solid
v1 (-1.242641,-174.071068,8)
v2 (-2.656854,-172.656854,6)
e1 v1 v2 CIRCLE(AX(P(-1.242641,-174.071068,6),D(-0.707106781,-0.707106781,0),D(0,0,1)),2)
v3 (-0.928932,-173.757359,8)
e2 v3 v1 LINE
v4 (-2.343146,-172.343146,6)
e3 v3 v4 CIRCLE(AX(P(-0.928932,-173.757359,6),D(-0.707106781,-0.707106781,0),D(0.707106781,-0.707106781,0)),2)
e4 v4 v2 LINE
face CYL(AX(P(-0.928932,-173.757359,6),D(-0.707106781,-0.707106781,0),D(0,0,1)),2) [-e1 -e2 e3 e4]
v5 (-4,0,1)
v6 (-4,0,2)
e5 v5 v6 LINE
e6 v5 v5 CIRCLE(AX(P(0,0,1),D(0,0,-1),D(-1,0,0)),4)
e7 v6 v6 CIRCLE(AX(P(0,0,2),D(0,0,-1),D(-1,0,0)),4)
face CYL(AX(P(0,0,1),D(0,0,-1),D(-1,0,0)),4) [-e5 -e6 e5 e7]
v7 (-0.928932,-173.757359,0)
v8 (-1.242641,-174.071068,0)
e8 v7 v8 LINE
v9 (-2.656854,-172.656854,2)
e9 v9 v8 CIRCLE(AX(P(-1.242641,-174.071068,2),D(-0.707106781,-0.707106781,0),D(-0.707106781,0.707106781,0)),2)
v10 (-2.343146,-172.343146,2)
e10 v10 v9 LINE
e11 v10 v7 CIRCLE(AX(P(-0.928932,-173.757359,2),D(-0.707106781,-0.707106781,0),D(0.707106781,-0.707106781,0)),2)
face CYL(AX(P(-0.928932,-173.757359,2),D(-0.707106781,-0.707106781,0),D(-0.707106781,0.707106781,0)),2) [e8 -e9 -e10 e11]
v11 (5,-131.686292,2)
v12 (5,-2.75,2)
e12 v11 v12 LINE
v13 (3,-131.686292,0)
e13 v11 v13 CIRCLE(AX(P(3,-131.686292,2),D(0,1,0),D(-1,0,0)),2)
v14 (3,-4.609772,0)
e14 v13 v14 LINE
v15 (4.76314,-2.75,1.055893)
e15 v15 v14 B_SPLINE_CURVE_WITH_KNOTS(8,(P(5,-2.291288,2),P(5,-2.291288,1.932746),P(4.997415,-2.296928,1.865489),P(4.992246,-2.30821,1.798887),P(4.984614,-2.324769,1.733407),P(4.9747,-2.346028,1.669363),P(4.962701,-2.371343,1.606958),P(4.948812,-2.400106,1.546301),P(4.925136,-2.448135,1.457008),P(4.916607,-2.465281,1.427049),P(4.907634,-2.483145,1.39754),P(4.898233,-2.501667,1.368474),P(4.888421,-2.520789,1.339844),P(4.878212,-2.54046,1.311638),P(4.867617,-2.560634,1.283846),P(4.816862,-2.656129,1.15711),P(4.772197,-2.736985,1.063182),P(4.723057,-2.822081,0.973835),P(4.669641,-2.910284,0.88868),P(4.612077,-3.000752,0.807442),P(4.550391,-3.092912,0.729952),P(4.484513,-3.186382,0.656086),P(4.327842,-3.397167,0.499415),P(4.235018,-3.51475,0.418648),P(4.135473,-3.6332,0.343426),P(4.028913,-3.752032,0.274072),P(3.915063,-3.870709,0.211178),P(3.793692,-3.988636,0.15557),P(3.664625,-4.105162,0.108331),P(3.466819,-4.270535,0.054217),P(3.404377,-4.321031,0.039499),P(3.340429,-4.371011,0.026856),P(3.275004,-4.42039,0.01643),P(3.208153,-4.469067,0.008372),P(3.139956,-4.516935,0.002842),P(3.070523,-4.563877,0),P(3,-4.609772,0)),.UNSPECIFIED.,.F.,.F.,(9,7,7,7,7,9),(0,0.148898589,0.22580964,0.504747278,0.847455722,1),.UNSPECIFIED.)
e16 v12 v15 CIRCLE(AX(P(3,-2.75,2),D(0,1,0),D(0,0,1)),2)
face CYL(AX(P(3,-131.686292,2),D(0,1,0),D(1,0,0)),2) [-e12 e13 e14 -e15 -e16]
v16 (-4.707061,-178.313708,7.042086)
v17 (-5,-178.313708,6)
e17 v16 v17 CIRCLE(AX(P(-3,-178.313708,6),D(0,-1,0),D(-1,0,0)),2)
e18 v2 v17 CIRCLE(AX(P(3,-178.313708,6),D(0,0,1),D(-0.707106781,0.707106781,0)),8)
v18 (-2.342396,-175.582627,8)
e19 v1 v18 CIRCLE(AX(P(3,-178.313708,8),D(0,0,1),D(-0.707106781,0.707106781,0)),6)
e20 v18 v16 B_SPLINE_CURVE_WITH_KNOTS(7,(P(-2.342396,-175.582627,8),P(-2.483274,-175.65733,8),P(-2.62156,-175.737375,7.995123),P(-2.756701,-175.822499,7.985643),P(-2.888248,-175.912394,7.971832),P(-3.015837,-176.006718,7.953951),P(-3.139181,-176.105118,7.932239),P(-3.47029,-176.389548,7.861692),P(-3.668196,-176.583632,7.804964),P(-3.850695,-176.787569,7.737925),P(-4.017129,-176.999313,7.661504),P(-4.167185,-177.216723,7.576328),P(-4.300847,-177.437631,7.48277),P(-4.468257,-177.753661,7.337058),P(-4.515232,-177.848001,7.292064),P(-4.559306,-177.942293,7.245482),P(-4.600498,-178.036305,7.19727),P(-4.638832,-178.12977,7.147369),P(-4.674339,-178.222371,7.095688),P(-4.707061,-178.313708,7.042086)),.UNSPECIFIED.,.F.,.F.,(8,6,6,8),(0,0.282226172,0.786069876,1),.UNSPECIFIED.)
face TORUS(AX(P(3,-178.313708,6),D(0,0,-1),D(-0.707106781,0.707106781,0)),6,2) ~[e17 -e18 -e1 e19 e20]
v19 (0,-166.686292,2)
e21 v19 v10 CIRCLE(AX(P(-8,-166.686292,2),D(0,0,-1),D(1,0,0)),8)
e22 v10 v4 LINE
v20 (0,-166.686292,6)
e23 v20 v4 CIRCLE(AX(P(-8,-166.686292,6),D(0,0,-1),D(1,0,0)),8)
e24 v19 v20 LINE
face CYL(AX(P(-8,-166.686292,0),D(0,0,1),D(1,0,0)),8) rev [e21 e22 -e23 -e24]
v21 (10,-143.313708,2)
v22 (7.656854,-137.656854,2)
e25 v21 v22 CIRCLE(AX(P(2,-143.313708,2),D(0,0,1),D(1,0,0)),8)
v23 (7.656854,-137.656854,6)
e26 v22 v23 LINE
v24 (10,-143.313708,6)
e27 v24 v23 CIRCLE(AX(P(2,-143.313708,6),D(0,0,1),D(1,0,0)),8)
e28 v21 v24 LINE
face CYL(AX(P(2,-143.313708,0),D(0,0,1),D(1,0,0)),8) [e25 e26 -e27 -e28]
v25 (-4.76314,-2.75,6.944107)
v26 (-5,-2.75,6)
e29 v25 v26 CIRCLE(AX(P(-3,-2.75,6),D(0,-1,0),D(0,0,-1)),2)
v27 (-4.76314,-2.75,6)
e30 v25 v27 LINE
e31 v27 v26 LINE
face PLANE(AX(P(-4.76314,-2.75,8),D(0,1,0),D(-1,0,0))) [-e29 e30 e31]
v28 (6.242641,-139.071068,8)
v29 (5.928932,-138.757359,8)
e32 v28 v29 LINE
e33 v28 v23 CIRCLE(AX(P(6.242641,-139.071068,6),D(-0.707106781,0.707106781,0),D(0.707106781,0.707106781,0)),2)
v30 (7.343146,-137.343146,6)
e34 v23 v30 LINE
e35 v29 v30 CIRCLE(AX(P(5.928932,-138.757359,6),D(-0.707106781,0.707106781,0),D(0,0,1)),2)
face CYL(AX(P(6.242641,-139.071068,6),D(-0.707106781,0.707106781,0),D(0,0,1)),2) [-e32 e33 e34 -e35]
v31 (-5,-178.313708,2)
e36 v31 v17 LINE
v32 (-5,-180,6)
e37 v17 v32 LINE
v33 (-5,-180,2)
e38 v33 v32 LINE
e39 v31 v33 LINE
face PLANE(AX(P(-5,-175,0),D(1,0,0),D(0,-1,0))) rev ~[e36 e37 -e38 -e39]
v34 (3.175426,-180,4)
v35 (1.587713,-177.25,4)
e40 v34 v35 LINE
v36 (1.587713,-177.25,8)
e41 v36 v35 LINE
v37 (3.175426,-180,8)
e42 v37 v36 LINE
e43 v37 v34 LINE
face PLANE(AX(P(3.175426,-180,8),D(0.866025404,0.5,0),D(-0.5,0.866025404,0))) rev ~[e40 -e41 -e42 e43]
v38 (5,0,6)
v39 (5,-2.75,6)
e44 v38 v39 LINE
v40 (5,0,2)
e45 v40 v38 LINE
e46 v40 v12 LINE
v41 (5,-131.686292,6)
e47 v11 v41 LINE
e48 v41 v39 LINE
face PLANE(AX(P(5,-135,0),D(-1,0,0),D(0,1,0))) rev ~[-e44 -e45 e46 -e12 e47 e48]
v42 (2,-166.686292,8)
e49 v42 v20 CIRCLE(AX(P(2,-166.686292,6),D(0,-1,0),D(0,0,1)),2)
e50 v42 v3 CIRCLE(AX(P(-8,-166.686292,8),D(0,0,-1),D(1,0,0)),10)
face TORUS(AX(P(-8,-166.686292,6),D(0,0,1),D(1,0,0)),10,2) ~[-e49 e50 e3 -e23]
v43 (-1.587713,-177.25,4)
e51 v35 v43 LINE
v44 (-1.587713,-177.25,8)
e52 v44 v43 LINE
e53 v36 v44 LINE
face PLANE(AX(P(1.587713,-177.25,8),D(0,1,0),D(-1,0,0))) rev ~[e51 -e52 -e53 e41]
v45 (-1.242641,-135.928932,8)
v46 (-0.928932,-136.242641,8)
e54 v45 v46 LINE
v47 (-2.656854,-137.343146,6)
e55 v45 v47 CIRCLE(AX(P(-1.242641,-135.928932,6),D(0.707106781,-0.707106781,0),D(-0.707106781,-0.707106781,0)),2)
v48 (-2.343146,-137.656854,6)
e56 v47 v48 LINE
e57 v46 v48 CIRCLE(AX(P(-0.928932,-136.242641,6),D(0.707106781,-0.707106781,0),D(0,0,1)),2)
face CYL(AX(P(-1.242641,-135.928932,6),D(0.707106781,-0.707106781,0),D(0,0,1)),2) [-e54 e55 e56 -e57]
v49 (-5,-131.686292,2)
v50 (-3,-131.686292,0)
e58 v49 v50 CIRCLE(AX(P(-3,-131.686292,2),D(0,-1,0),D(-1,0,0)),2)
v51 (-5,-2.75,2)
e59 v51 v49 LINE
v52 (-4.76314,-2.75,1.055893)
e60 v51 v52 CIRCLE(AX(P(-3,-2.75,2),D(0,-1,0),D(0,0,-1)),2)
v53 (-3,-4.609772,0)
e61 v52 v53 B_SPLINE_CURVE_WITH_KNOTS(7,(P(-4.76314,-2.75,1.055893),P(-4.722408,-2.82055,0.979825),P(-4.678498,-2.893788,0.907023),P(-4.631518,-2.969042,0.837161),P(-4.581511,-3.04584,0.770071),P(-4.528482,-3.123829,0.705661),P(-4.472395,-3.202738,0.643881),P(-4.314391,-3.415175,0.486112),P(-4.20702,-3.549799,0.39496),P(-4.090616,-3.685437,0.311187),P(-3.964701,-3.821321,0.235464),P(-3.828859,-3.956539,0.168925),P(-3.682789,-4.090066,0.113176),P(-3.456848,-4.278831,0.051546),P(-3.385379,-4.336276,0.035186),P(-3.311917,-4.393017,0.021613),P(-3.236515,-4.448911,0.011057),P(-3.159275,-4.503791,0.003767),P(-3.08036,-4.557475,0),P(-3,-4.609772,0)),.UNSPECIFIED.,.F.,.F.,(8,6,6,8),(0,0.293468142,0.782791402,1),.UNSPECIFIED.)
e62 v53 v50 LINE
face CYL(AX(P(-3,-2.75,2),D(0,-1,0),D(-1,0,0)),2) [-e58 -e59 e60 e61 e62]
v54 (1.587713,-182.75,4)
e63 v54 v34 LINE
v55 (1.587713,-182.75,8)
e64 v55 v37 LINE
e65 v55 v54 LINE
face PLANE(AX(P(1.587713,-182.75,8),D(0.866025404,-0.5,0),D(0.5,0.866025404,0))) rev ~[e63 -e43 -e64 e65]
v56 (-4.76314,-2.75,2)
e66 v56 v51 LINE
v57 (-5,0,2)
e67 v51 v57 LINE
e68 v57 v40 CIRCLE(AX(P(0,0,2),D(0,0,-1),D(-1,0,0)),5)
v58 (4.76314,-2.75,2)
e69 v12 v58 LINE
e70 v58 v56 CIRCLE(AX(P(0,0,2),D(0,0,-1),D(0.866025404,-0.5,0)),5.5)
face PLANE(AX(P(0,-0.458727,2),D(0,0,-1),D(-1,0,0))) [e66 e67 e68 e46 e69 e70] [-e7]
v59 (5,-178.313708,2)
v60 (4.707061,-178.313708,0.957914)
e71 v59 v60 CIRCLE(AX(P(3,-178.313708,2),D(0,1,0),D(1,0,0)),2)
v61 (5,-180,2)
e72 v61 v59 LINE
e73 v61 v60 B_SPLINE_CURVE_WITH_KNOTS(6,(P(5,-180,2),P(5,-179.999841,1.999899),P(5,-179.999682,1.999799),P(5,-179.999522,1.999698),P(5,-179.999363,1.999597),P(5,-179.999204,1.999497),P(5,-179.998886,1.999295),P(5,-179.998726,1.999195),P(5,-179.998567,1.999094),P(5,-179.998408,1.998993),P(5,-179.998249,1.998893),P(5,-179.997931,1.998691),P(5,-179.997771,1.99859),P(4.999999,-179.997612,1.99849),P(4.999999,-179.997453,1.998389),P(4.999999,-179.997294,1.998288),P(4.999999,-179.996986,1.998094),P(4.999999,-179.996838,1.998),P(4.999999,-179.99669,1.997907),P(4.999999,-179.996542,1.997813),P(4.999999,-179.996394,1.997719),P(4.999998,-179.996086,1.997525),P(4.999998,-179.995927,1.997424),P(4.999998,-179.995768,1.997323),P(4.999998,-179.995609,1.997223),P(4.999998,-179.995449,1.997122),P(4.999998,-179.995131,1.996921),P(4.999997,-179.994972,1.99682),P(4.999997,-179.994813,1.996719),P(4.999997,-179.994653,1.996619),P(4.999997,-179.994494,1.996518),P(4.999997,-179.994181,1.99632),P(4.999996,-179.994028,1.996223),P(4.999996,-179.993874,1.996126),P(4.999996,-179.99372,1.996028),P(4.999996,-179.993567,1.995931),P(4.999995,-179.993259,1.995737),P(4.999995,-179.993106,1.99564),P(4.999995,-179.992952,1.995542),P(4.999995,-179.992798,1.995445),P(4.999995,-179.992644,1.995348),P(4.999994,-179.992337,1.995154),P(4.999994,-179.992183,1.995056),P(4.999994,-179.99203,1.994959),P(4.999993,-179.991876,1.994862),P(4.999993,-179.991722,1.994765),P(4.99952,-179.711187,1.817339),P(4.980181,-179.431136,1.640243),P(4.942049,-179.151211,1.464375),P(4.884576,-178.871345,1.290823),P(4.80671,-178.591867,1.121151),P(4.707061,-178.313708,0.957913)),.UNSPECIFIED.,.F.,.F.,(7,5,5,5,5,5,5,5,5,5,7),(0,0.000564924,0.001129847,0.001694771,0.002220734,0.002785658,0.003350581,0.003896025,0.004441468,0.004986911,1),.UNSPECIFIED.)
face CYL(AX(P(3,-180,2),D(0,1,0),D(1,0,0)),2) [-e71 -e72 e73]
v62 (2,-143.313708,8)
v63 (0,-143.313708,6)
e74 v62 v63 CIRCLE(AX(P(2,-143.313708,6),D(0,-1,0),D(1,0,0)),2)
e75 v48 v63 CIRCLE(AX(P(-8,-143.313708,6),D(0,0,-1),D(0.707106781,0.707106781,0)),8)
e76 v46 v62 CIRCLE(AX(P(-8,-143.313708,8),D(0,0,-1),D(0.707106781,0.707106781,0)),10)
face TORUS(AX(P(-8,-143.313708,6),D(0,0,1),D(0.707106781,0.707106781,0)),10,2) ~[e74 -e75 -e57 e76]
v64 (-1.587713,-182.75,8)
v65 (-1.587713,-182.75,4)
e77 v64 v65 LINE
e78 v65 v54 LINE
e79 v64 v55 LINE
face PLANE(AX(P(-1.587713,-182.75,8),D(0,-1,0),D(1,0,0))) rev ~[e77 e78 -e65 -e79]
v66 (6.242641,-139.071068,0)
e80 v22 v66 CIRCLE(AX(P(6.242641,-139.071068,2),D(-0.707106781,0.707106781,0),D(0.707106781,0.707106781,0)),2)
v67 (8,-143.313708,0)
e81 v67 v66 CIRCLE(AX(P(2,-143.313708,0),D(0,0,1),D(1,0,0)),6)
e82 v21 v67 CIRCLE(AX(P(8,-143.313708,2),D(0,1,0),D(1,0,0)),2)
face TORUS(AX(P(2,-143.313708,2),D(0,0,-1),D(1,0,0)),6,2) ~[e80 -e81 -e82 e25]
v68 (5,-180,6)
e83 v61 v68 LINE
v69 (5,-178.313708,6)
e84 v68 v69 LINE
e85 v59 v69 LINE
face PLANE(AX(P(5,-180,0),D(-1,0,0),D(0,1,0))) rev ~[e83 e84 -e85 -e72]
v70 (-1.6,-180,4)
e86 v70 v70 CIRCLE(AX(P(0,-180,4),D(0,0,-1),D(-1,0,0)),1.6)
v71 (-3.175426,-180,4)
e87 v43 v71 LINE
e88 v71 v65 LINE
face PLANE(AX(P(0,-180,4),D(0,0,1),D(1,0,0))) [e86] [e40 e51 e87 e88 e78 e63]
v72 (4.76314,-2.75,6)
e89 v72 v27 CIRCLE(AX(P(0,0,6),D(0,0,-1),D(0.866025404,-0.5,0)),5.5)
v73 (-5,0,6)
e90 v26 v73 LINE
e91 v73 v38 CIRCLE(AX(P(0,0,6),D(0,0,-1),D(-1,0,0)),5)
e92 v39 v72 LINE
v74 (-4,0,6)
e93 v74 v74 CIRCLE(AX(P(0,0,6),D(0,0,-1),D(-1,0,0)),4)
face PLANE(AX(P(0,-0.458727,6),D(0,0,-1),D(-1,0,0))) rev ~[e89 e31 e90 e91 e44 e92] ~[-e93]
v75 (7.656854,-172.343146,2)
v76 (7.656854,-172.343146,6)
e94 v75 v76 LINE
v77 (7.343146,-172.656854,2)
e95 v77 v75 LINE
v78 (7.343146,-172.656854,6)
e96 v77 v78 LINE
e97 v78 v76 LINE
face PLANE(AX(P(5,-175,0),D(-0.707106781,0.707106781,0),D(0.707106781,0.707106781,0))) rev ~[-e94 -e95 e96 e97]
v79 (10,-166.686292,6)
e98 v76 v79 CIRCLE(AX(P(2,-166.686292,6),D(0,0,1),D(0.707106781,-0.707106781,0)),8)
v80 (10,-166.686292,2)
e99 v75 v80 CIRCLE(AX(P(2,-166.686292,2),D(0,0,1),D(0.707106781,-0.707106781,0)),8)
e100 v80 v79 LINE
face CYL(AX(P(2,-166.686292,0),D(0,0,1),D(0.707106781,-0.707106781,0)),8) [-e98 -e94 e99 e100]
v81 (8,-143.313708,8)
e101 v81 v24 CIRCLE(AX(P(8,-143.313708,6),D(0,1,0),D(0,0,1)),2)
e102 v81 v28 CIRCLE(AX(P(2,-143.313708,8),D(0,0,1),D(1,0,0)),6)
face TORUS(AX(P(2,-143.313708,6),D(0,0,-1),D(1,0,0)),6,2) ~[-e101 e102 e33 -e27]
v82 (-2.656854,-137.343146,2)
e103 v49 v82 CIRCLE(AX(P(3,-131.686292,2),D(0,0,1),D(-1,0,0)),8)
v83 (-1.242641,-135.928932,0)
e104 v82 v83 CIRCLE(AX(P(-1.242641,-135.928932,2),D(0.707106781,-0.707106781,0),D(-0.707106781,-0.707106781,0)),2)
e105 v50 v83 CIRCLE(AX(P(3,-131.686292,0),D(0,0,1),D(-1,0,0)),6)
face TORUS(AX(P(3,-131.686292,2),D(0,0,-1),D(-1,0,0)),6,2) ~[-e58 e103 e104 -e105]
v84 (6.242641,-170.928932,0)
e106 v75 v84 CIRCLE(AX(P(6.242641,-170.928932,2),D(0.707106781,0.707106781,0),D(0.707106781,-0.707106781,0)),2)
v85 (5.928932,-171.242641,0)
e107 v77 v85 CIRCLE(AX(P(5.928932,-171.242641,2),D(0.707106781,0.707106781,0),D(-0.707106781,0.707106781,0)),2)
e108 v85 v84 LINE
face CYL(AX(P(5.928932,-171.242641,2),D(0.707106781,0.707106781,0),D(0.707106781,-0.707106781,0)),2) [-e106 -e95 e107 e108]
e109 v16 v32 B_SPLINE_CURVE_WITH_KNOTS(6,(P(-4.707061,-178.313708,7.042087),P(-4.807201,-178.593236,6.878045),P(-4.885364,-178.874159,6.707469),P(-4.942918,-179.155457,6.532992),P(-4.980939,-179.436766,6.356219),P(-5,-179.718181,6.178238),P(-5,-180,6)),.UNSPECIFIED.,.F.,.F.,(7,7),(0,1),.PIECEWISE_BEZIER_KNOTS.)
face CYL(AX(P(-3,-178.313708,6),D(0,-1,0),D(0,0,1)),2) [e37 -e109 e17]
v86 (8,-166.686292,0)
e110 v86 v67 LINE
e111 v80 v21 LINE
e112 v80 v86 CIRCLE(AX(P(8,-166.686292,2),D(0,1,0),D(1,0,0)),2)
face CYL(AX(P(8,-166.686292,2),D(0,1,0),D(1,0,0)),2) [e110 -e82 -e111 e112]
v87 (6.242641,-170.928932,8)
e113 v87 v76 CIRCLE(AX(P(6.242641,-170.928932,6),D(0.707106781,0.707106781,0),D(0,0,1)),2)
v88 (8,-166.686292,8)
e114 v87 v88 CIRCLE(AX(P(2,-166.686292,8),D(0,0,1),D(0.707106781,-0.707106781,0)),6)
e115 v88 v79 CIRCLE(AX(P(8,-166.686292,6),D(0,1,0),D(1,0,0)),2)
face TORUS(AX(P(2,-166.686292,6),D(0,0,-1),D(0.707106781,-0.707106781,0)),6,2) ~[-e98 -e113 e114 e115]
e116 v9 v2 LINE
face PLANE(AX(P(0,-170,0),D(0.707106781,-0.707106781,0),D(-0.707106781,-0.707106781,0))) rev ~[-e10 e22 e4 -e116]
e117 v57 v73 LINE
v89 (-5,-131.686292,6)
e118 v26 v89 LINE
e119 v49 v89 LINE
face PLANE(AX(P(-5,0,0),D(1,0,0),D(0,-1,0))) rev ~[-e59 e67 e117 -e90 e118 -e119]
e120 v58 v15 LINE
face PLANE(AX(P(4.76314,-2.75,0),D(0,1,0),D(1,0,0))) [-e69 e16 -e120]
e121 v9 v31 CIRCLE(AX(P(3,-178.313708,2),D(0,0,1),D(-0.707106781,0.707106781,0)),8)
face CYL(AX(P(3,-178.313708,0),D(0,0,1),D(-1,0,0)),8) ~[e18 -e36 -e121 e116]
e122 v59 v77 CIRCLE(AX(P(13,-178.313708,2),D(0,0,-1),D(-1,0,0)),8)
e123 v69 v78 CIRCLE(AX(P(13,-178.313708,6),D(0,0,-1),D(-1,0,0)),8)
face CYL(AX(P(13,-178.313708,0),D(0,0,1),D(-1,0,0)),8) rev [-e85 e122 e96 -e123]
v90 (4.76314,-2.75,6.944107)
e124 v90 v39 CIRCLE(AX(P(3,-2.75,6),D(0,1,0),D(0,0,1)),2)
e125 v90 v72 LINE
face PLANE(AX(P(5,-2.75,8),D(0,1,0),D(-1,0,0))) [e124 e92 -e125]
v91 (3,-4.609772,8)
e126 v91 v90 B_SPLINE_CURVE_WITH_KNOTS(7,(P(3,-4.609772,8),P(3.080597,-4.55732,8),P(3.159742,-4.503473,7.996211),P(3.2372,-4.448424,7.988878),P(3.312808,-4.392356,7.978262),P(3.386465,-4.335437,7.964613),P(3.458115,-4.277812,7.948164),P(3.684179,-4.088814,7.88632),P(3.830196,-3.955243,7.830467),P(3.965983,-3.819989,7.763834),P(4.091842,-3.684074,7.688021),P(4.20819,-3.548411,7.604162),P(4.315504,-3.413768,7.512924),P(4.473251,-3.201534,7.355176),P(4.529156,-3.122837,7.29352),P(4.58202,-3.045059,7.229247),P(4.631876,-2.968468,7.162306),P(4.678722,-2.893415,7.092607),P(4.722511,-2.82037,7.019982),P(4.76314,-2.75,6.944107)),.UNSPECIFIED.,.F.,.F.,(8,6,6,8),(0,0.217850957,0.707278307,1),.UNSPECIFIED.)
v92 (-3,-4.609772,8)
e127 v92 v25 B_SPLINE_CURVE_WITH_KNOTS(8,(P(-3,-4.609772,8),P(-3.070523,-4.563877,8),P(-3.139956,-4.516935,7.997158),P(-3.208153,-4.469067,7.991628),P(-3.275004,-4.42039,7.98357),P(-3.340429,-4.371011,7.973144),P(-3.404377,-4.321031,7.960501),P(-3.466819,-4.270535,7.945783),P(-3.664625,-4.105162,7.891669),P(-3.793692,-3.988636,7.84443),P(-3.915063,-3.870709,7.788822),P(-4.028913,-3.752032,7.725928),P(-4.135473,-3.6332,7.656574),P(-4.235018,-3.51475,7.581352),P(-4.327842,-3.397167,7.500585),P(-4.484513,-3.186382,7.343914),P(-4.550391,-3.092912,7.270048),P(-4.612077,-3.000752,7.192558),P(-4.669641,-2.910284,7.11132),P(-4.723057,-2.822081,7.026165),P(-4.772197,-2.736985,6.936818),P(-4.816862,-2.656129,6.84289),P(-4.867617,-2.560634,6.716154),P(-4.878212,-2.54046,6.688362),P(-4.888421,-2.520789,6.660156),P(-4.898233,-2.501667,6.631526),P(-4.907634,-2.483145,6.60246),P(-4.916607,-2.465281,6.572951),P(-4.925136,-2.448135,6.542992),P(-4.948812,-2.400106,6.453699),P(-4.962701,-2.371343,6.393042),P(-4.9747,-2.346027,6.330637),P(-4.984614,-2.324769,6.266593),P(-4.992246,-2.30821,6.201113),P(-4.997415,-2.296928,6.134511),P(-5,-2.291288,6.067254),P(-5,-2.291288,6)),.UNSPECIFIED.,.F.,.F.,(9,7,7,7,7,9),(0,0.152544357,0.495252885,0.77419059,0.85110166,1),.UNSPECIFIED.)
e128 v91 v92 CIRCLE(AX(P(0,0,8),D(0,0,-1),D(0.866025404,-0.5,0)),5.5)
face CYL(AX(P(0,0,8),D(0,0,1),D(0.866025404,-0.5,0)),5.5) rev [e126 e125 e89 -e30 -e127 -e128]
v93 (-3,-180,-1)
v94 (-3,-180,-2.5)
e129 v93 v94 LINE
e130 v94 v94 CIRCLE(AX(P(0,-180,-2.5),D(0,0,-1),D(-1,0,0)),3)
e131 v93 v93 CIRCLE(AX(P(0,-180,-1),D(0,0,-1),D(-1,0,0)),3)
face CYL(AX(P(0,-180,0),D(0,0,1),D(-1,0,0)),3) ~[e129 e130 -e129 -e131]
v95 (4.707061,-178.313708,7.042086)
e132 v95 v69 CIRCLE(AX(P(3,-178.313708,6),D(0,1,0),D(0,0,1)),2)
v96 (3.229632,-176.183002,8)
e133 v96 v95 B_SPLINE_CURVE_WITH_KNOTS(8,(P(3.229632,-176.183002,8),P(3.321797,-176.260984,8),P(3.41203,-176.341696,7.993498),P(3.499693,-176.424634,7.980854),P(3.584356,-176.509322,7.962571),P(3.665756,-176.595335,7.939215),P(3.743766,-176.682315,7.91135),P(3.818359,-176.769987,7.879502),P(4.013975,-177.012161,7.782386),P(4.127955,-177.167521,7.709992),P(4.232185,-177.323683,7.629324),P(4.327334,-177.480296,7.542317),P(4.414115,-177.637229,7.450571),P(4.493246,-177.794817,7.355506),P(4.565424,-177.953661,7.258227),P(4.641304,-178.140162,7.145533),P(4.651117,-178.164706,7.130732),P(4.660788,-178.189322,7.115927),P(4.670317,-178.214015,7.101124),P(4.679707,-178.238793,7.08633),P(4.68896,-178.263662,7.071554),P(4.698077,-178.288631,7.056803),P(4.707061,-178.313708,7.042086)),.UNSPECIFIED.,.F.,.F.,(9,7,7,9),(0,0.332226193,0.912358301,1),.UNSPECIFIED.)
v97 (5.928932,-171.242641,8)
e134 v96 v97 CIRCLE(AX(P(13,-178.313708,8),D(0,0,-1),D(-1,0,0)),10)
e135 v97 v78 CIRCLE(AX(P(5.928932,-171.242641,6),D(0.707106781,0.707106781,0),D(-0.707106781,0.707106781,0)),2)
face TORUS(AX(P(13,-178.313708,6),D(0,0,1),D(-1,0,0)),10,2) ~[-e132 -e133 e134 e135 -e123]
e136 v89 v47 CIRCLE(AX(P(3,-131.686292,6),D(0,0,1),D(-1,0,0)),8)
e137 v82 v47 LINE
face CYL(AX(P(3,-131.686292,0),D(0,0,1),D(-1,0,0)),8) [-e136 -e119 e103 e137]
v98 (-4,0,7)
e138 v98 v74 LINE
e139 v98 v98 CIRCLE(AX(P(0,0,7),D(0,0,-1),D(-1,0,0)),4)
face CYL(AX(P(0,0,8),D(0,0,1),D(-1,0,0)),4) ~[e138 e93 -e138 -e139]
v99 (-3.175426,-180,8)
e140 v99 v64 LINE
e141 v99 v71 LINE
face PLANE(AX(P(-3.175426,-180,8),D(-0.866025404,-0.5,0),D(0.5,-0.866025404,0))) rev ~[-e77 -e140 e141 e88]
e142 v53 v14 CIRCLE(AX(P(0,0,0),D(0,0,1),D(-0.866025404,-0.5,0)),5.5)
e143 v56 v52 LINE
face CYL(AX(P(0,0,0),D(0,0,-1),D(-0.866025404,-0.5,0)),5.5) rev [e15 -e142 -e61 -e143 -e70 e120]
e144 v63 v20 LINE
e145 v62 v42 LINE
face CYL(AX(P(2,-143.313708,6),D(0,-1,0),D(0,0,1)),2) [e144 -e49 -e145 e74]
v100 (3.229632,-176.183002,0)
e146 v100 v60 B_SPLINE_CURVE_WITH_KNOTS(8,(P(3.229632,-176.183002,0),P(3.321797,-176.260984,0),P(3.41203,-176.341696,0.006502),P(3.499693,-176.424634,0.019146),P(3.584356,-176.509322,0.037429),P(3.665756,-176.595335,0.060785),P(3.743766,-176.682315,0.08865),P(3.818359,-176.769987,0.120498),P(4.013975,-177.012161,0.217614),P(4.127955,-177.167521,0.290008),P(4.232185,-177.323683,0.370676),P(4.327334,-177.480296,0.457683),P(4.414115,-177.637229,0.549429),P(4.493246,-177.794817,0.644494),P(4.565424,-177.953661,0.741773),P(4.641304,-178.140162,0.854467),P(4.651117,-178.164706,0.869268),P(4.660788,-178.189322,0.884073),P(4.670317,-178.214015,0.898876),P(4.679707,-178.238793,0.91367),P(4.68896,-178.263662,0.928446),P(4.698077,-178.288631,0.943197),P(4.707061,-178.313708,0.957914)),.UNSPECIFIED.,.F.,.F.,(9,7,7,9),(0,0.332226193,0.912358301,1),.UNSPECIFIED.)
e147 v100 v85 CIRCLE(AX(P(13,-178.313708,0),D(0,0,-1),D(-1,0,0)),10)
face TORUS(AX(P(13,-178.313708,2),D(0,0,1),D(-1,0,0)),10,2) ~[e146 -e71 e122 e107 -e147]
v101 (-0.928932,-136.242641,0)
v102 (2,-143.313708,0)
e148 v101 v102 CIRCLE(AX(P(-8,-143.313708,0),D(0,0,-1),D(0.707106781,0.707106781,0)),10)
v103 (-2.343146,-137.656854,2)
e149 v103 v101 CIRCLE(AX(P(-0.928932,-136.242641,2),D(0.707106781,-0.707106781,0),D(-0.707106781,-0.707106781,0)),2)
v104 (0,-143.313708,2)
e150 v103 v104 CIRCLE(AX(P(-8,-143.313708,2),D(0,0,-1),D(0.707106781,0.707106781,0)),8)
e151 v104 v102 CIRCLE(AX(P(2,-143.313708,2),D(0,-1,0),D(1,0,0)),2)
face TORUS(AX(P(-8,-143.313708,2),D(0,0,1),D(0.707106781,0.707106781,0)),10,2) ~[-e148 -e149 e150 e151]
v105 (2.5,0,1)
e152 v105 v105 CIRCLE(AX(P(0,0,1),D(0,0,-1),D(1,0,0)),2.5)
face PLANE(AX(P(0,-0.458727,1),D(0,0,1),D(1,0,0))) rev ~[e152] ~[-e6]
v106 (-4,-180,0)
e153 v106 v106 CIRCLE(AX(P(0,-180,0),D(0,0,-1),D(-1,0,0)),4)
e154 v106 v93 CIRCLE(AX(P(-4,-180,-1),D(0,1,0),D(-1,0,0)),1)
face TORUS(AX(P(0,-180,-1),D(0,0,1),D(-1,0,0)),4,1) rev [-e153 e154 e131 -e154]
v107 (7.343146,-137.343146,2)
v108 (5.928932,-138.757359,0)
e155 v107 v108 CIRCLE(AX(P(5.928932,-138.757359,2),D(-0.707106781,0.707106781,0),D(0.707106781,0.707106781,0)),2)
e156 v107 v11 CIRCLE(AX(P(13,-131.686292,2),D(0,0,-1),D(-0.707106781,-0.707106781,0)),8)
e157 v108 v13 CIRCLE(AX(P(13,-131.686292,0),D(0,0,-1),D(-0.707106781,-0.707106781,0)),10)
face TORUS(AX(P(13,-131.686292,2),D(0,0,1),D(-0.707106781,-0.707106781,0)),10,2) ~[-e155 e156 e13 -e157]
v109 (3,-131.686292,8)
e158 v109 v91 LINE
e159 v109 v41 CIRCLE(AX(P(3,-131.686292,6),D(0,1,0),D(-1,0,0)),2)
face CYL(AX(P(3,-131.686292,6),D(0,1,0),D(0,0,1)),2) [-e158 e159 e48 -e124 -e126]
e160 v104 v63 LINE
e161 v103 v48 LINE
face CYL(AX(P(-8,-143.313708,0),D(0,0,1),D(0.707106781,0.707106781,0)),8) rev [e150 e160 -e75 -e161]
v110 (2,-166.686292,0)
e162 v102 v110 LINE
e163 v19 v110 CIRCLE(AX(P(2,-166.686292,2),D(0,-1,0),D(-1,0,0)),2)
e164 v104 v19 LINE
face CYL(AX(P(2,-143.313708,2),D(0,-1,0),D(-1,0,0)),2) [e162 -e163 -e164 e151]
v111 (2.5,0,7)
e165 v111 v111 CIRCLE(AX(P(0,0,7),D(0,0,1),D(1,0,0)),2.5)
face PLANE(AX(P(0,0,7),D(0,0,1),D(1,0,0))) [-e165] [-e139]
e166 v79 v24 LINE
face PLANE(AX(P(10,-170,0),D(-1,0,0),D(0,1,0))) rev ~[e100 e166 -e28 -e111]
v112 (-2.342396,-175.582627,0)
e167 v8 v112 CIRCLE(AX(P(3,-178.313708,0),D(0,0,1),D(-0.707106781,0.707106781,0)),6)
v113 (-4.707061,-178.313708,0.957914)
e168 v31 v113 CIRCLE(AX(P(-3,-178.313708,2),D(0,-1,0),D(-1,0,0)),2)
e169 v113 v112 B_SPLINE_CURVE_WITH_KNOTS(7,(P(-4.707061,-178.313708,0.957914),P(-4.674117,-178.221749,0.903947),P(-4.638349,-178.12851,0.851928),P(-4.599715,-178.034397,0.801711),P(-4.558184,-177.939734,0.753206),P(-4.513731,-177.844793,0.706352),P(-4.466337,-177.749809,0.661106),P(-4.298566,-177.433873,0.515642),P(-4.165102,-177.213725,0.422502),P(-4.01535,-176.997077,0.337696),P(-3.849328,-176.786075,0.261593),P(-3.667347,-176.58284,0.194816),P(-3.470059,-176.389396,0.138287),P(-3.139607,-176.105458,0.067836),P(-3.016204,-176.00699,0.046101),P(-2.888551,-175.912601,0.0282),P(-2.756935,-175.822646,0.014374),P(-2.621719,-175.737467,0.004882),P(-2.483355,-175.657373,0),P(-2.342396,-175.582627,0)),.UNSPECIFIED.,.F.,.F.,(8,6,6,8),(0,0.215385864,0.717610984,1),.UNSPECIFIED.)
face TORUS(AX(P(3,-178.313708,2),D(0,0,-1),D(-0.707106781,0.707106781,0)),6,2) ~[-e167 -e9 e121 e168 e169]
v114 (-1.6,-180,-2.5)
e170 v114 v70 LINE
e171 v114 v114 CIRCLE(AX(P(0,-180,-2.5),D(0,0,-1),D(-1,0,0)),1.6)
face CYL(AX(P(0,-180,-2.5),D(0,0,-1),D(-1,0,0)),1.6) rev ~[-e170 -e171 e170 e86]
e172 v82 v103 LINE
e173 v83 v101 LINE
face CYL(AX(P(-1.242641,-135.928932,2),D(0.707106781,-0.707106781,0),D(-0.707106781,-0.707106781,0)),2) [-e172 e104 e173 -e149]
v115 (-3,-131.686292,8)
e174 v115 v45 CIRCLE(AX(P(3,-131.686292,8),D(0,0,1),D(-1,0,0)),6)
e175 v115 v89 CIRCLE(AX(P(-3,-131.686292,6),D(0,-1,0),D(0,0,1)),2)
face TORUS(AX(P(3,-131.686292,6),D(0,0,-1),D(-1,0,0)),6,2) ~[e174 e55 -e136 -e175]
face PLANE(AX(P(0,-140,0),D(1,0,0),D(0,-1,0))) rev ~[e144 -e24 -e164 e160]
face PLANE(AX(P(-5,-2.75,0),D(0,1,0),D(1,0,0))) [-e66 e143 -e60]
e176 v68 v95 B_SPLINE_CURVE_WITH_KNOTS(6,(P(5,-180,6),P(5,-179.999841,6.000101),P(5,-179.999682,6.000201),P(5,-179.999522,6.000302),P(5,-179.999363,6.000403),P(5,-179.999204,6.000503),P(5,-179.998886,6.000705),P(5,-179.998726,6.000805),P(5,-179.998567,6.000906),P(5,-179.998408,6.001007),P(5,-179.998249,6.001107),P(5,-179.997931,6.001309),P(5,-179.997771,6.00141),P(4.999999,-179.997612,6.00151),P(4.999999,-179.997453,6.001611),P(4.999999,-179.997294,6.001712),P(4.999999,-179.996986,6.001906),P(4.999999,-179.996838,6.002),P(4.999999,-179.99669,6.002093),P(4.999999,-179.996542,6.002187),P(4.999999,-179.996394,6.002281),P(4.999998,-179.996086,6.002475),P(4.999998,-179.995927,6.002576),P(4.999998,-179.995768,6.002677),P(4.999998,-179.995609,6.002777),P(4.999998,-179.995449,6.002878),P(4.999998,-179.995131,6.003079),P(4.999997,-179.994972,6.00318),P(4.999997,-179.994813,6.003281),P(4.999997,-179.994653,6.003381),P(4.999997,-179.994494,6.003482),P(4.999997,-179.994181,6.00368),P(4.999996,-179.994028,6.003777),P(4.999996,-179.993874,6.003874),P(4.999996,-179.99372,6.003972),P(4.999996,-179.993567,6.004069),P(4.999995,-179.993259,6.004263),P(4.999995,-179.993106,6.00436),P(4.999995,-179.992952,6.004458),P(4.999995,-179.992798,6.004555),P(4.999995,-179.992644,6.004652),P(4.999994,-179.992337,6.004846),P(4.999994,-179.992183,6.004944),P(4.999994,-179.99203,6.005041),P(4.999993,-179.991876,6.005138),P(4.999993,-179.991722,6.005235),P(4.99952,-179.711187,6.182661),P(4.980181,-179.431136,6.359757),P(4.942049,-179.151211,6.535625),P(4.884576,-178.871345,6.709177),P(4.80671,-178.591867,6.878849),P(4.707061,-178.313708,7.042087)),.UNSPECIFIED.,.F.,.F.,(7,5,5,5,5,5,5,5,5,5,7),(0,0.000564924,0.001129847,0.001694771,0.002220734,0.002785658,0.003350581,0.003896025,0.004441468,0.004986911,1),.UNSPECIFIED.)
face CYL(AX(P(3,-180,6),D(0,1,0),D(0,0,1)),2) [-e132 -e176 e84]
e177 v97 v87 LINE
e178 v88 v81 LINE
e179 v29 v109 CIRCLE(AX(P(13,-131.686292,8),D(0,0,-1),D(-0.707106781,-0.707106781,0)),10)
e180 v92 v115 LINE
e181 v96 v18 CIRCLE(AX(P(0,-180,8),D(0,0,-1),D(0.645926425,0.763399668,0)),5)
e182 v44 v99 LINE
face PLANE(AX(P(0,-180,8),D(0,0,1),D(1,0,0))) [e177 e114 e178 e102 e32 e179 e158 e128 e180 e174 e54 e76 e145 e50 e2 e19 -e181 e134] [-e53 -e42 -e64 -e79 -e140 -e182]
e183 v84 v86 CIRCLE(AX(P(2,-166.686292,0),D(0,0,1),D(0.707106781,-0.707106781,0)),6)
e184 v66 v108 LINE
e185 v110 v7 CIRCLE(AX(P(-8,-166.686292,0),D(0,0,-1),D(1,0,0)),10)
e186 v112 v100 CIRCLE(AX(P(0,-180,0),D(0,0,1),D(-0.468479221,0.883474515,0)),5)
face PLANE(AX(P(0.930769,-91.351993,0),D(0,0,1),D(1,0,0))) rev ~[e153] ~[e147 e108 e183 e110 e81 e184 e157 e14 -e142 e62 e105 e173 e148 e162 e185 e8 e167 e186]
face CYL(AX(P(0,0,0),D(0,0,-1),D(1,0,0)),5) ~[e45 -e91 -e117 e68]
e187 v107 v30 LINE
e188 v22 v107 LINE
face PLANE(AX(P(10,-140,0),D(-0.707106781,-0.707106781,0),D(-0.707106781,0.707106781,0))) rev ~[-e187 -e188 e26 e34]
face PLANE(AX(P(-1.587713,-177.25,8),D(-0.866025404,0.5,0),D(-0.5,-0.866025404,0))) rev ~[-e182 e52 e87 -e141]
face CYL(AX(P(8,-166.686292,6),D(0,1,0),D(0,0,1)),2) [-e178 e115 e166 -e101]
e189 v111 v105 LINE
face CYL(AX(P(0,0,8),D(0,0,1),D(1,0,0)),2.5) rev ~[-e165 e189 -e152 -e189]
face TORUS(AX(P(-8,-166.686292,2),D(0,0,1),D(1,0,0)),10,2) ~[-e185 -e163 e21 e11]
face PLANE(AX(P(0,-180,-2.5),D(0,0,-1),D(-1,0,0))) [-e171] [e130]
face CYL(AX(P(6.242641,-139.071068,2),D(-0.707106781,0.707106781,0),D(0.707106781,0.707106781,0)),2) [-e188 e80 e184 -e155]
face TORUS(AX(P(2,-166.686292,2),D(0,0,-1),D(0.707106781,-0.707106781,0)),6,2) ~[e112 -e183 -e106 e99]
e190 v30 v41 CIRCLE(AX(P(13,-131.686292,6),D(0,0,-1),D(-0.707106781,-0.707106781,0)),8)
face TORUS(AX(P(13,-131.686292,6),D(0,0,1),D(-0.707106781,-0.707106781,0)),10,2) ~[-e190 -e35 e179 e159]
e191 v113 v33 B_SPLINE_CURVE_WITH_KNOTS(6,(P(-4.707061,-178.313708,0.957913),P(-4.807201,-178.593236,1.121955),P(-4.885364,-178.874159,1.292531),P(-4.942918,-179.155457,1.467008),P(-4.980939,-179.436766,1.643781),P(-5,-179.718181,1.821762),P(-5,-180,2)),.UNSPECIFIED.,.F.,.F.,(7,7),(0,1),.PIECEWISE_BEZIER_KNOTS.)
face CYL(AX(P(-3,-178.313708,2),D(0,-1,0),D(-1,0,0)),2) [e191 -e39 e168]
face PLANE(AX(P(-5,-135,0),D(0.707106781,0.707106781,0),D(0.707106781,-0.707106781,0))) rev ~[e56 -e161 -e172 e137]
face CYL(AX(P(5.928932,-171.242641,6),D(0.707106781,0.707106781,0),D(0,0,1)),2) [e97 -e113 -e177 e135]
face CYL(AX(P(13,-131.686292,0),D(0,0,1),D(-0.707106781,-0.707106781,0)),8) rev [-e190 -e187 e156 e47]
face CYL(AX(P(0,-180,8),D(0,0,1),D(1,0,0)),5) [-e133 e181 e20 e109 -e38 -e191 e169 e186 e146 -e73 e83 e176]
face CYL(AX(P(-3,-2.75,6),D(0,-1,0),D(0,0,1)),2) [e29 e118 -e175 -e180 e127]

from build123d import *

# Parameters (mm, degrees)
EXTRUDE_1_DEPTH     = 8
FILLET_1_R          = 8
CUT_EXTRUDE_1_DEPTH = 1
SKETCH_3_R          = 2.5
EXTRUDE_2_DEPTH     = 4
SKETCH_4_R          = 4
CUT_EXTRUDE_3_DEPTH = 1
CUT_EXTRUDE_4_REACH = 13
SKETCH_5_R          = 2.5
CUT_EXTRUDE_START   = -7
SKETCH_4_2_R        = 4
CUT_EXTRUDE_5_DEPTH = 2
SKETCH_7_R          = 4
CUT_EXTRUDE_6_DEPTH = 1
FILLET_2_R          = 2
SKETCH_9_R          = 5
EXTRUDE_3_DEPTH     = 8
SKETCH_11_R         = 3
EXTRUDE_4_DEPTH     = 2.5
FILLET_3_R          = 1
SKETCH_12_R         = 1.6
CUT_EXTRUDE_8_DEPTH = 12
CUT_EXTRUDE_9_DEPTH = 4


with BuildPart() as part:
    # 草图1 → 凸台-拉伸1 (new body)
    with BuildSketch(Plane.XY):
        with BuildLine():
            Line((-5, -175), (-5, -180))
            ThreePointArc((-5, -180), (0, -185), (5, -180))
            Line((5, -180), (5, -175))
            Line((5, -175), (10, -170))
            Line((10, -170), (10, -140))
            Line((10, -140), (5, -135))
            Line((5, -135), (5, 0))
            ThreePointArc((5, 0), (0, 5), (-5, 0))
            Line((-5, 0), (-5, -135))
            Line((-5, -135), (0, -140))
            Line((0, -140), (0, -170))
            Line((0, -170), (-5, -175))
        make_face()
    extrude(amount=EXTRUDE_1_DEPTH)

    # 圆角1
    fillet_1_edges = [part.edges().sort_by_distance(p)[0] for p in [
        (5, -175, 4),
        (-5, -175, 4),
        (0, -170, 4),
        (0, -140, 4),
        (-5, -135, 4),
        (5, -135, 4),
        (10, -140, 4),
        (10, -170, 4),
    ]]
    fillet(fillet_1_edges, radius=FILLET_1_R)

    # 草图2 → 切除-拉伸1 (cut)
    with BuildSketch(Plane(origin=(0, 0, 0), x_dir=(-1, 0, 0), z_dir=(0, 0, -1))):
        with BuildLine():
            Line((5, 0), (5, -2.75))
            Line((5, -2.75), (4.763139721, -2.75))
            ThreePointArc((4.763139721, -2.75), (0, -5.5), (-4.763139721, -2.75))
            Line((-4.763139721, -2.75), (-5, -2.75))
            Line((-5, -2.75), (-5, 0))
            ThreePointArc((-5, 0), (0, 5), (5, 0))
        make_face()
    extrude(amount=-CUT_EXTRUDE_1_DEPTH, mode=Mode.SUBTRACT)

    # 草图3 → 凸台-拉伸2 (add)
    with BuildSketch(Plane(origin=(0, 0, 1), x_dir=(-1, 0, 0), z_dir=(0, 0, -1))):
        Circle(SKETCH_3_R)
    extrude(amount=EXTRUDE_2_DEPTH)

    # 草图4 → 切除-拉伸3 (cut)
    with BuildSketch(Plane(origin=(0, 0, 1), x_dir=(-1, 0, 0), z_dir=(0, 0, -1))):
        with BuildLine():
            Line((-5, 0), (-5, -2.75))
            Line((-5, -2.75), (-4.763139721, -2.75))
            ThreePointArc((-4.763139721, -2.75), (0, -5.5), (4.763139721, -2.75))
            Line((4.763139721, -2.75), (5, -2.75))
            Line((5, -2.75), (5, 0))
            ThreePointArc((5, 0), (0, 5), (-5, 0))
        make_face()
        Circle(SKETCH_4_R, mode=Mode.SUBTRACT)
    extrude(amount=-CUT_EXTRUDE_3_DEPTH, mode=Mode.SUBTRACT)

    # 草图5 → 切除-拉伸4 (cut, up to next)
    with BuildSketch(Plane.XY.offset(8), mode=Mode.PRIVATE) as cut_extrude_4_sk1:
        Circle(SKETCH_5_R)
    cut_extrude_4_tool1 = extrude(cut_extrude_4_sk1.sketch, amount=-CUT_EXTRUDE_4_REACH, mode=Mode.PRIVATE) & part.part
    add(cut_extrude_4_tool1.solids().sort_by_distance((0, 0, 8))[0], mode=Mode.SUBTRACT)

    # 草图4<2> → 切除-拉伸5 (cut)
    with BuildSketch(Plane(origin=(0, 0, 1), x_dir=(-1, 0, 0), z_dir=(0, 0, -1)).offset(CUT_EXTRUDE_START)):
        with BuildLine():
            Line((-5, 0), (-5, -2.75))
            Line((-5, -2.75), (-4.763139721, -2.75))
            ThreePointArc((-4.763139721, -2.75), (0, -5.5), (4.763139721, -2.75))
            Line((4.763139721, -2.75), (5, -2.75))
            Line((5, -2.75), (5, 0))
            ThreePointArc((5, 0), (0, 5), (-5, 0))
        make_face()
        Circle(SKETCH_4_2_R, mode=Mode.SUBTRACT)
    extrude(amount=CUT_EXTRUDE_5_DEPTH, mode=Mode.SUBTRACT)

    # 草图7 → 切除-拉伸6 (cut)
    with BuildSketch(Plane.XY.offset(8)):
        Circle(SKETCH_7_R)
    extrude(amount=-CUT_EXTRUDE_6_DEPTH, mode=Mode.SUBTRACT)

    # 圆角2
    fillet_2_edges = [part.edges().sort_by_distance(p)[0] for p in [
        (-4.39103626, -134.74775896, 0),
        (-2.5, -137.5, 0),
        (-0.60896374, -140.25224104, 0),
        (0, -155, 0),
        (-0.60896374, -169.74775896, 0),
        (-2.5, -172.5, 0),
        (-4.39103626, -175.25224104, 0),
        (-5, -179.156854249, 0),
        (0, -185, 0),
        (5, -179.156854249, 0),
        (5.60896374, -175.25224104, 0),
        (7.5, -172.5, 0),
        (9.39103626, -169.74775896, 0),
        (10, -155, 0),
        (9.39103626, -140.25224104, 0),
        (7.5, -137.5, 0),
        (5.60896374, -134.74775896, 0),
        (-4.39103626, -134.74775896, 8),
        (-2.5, -137.5, 8),
        (-0.60896374, -140.25224104, 8),
        (0, -155, 8),
        (-0.60896374, -169.74775896, 8),
        (-2.5, -172.5, 8),
        (-4.39103626, -175.25224104, 8),
        (-5, -179.156854249, 8),
        (0, -185, 8),
        (5, -179.156854249, 8),
        (5.60896374, -175.25224104, 8),
        (7.5, -172.5, 8),
        (9.39103626, -169.74775896, 8),
        (10, -155, 8),
        (9.39103626, -140.25224104, 8),
        (7.5, -137.5, 8),
        (5.60896374, -134.74775896, 8),
        (-5, -67.218145751, 0),
        (5, -67.218145751, 0),
        (-5, -67.218145751, 8),
        (5, -67.218145751, 8),
    ]]
    fillet(fillet_2_edges, radius=FILLET_2_R)

    # 草图9 → 凸台-拉伸3 (add)
    with BuildSketch(Plane.XY.offset(8)):
        with Locations((0, -180)):
            Circle(SKETCH_9_R)
    extrude(amount=-EXTRUDE_3_DEPTH)

    # 草图11 → 凸台-拉伸4 (add)
    with BuildSketch(Plane(origin=(0, 0, 0), x_dir=(-1, 0, 0), z_dir=(0, 0, -1))):
        with Locations((0, -180)):
            Circle(SKETCH_11_R)
    extrude(amount=EXTRUDE_4_DEPTH)

    # 圆角3
    fillet_3_edges = [part.edges().sort_by_distance(p)[0] for p in [
        (3, -180, 0),
    ]]
    fillet(fillet_3_edges, radius=FILLET_3_R)

    # 草图12 → 切除-拉伸8 (cut)
    with BuildSketch(Plane(origin=(0, 0, -2.5), x_dir=(-1, 0, 0), z_dir=(0, 0, -1))):
        with Locations((0, -180)):
            Circle(SKETCH_12_R)
    extrude(amount=-CUT_EXTRUDE_8_DEPTH, mode=Mode.SUBTRACT)

    # 草图13 → 切除-拉伸9 (cut)
    with BuildSketch(Plane.XY.offset(8)):
        Polygon((-1.58771324, -177.25), (-3.175426481, -180), (-1.58771324, -182.75), (1.58771324, -182.75), (3.175426481, -180), (1.58771324, -177.25), align=None)
    extrude(amount=-CUT_EXTRUDE_9_DEPTH, mode=Mode.SUBTRACT)


solid = part.part
